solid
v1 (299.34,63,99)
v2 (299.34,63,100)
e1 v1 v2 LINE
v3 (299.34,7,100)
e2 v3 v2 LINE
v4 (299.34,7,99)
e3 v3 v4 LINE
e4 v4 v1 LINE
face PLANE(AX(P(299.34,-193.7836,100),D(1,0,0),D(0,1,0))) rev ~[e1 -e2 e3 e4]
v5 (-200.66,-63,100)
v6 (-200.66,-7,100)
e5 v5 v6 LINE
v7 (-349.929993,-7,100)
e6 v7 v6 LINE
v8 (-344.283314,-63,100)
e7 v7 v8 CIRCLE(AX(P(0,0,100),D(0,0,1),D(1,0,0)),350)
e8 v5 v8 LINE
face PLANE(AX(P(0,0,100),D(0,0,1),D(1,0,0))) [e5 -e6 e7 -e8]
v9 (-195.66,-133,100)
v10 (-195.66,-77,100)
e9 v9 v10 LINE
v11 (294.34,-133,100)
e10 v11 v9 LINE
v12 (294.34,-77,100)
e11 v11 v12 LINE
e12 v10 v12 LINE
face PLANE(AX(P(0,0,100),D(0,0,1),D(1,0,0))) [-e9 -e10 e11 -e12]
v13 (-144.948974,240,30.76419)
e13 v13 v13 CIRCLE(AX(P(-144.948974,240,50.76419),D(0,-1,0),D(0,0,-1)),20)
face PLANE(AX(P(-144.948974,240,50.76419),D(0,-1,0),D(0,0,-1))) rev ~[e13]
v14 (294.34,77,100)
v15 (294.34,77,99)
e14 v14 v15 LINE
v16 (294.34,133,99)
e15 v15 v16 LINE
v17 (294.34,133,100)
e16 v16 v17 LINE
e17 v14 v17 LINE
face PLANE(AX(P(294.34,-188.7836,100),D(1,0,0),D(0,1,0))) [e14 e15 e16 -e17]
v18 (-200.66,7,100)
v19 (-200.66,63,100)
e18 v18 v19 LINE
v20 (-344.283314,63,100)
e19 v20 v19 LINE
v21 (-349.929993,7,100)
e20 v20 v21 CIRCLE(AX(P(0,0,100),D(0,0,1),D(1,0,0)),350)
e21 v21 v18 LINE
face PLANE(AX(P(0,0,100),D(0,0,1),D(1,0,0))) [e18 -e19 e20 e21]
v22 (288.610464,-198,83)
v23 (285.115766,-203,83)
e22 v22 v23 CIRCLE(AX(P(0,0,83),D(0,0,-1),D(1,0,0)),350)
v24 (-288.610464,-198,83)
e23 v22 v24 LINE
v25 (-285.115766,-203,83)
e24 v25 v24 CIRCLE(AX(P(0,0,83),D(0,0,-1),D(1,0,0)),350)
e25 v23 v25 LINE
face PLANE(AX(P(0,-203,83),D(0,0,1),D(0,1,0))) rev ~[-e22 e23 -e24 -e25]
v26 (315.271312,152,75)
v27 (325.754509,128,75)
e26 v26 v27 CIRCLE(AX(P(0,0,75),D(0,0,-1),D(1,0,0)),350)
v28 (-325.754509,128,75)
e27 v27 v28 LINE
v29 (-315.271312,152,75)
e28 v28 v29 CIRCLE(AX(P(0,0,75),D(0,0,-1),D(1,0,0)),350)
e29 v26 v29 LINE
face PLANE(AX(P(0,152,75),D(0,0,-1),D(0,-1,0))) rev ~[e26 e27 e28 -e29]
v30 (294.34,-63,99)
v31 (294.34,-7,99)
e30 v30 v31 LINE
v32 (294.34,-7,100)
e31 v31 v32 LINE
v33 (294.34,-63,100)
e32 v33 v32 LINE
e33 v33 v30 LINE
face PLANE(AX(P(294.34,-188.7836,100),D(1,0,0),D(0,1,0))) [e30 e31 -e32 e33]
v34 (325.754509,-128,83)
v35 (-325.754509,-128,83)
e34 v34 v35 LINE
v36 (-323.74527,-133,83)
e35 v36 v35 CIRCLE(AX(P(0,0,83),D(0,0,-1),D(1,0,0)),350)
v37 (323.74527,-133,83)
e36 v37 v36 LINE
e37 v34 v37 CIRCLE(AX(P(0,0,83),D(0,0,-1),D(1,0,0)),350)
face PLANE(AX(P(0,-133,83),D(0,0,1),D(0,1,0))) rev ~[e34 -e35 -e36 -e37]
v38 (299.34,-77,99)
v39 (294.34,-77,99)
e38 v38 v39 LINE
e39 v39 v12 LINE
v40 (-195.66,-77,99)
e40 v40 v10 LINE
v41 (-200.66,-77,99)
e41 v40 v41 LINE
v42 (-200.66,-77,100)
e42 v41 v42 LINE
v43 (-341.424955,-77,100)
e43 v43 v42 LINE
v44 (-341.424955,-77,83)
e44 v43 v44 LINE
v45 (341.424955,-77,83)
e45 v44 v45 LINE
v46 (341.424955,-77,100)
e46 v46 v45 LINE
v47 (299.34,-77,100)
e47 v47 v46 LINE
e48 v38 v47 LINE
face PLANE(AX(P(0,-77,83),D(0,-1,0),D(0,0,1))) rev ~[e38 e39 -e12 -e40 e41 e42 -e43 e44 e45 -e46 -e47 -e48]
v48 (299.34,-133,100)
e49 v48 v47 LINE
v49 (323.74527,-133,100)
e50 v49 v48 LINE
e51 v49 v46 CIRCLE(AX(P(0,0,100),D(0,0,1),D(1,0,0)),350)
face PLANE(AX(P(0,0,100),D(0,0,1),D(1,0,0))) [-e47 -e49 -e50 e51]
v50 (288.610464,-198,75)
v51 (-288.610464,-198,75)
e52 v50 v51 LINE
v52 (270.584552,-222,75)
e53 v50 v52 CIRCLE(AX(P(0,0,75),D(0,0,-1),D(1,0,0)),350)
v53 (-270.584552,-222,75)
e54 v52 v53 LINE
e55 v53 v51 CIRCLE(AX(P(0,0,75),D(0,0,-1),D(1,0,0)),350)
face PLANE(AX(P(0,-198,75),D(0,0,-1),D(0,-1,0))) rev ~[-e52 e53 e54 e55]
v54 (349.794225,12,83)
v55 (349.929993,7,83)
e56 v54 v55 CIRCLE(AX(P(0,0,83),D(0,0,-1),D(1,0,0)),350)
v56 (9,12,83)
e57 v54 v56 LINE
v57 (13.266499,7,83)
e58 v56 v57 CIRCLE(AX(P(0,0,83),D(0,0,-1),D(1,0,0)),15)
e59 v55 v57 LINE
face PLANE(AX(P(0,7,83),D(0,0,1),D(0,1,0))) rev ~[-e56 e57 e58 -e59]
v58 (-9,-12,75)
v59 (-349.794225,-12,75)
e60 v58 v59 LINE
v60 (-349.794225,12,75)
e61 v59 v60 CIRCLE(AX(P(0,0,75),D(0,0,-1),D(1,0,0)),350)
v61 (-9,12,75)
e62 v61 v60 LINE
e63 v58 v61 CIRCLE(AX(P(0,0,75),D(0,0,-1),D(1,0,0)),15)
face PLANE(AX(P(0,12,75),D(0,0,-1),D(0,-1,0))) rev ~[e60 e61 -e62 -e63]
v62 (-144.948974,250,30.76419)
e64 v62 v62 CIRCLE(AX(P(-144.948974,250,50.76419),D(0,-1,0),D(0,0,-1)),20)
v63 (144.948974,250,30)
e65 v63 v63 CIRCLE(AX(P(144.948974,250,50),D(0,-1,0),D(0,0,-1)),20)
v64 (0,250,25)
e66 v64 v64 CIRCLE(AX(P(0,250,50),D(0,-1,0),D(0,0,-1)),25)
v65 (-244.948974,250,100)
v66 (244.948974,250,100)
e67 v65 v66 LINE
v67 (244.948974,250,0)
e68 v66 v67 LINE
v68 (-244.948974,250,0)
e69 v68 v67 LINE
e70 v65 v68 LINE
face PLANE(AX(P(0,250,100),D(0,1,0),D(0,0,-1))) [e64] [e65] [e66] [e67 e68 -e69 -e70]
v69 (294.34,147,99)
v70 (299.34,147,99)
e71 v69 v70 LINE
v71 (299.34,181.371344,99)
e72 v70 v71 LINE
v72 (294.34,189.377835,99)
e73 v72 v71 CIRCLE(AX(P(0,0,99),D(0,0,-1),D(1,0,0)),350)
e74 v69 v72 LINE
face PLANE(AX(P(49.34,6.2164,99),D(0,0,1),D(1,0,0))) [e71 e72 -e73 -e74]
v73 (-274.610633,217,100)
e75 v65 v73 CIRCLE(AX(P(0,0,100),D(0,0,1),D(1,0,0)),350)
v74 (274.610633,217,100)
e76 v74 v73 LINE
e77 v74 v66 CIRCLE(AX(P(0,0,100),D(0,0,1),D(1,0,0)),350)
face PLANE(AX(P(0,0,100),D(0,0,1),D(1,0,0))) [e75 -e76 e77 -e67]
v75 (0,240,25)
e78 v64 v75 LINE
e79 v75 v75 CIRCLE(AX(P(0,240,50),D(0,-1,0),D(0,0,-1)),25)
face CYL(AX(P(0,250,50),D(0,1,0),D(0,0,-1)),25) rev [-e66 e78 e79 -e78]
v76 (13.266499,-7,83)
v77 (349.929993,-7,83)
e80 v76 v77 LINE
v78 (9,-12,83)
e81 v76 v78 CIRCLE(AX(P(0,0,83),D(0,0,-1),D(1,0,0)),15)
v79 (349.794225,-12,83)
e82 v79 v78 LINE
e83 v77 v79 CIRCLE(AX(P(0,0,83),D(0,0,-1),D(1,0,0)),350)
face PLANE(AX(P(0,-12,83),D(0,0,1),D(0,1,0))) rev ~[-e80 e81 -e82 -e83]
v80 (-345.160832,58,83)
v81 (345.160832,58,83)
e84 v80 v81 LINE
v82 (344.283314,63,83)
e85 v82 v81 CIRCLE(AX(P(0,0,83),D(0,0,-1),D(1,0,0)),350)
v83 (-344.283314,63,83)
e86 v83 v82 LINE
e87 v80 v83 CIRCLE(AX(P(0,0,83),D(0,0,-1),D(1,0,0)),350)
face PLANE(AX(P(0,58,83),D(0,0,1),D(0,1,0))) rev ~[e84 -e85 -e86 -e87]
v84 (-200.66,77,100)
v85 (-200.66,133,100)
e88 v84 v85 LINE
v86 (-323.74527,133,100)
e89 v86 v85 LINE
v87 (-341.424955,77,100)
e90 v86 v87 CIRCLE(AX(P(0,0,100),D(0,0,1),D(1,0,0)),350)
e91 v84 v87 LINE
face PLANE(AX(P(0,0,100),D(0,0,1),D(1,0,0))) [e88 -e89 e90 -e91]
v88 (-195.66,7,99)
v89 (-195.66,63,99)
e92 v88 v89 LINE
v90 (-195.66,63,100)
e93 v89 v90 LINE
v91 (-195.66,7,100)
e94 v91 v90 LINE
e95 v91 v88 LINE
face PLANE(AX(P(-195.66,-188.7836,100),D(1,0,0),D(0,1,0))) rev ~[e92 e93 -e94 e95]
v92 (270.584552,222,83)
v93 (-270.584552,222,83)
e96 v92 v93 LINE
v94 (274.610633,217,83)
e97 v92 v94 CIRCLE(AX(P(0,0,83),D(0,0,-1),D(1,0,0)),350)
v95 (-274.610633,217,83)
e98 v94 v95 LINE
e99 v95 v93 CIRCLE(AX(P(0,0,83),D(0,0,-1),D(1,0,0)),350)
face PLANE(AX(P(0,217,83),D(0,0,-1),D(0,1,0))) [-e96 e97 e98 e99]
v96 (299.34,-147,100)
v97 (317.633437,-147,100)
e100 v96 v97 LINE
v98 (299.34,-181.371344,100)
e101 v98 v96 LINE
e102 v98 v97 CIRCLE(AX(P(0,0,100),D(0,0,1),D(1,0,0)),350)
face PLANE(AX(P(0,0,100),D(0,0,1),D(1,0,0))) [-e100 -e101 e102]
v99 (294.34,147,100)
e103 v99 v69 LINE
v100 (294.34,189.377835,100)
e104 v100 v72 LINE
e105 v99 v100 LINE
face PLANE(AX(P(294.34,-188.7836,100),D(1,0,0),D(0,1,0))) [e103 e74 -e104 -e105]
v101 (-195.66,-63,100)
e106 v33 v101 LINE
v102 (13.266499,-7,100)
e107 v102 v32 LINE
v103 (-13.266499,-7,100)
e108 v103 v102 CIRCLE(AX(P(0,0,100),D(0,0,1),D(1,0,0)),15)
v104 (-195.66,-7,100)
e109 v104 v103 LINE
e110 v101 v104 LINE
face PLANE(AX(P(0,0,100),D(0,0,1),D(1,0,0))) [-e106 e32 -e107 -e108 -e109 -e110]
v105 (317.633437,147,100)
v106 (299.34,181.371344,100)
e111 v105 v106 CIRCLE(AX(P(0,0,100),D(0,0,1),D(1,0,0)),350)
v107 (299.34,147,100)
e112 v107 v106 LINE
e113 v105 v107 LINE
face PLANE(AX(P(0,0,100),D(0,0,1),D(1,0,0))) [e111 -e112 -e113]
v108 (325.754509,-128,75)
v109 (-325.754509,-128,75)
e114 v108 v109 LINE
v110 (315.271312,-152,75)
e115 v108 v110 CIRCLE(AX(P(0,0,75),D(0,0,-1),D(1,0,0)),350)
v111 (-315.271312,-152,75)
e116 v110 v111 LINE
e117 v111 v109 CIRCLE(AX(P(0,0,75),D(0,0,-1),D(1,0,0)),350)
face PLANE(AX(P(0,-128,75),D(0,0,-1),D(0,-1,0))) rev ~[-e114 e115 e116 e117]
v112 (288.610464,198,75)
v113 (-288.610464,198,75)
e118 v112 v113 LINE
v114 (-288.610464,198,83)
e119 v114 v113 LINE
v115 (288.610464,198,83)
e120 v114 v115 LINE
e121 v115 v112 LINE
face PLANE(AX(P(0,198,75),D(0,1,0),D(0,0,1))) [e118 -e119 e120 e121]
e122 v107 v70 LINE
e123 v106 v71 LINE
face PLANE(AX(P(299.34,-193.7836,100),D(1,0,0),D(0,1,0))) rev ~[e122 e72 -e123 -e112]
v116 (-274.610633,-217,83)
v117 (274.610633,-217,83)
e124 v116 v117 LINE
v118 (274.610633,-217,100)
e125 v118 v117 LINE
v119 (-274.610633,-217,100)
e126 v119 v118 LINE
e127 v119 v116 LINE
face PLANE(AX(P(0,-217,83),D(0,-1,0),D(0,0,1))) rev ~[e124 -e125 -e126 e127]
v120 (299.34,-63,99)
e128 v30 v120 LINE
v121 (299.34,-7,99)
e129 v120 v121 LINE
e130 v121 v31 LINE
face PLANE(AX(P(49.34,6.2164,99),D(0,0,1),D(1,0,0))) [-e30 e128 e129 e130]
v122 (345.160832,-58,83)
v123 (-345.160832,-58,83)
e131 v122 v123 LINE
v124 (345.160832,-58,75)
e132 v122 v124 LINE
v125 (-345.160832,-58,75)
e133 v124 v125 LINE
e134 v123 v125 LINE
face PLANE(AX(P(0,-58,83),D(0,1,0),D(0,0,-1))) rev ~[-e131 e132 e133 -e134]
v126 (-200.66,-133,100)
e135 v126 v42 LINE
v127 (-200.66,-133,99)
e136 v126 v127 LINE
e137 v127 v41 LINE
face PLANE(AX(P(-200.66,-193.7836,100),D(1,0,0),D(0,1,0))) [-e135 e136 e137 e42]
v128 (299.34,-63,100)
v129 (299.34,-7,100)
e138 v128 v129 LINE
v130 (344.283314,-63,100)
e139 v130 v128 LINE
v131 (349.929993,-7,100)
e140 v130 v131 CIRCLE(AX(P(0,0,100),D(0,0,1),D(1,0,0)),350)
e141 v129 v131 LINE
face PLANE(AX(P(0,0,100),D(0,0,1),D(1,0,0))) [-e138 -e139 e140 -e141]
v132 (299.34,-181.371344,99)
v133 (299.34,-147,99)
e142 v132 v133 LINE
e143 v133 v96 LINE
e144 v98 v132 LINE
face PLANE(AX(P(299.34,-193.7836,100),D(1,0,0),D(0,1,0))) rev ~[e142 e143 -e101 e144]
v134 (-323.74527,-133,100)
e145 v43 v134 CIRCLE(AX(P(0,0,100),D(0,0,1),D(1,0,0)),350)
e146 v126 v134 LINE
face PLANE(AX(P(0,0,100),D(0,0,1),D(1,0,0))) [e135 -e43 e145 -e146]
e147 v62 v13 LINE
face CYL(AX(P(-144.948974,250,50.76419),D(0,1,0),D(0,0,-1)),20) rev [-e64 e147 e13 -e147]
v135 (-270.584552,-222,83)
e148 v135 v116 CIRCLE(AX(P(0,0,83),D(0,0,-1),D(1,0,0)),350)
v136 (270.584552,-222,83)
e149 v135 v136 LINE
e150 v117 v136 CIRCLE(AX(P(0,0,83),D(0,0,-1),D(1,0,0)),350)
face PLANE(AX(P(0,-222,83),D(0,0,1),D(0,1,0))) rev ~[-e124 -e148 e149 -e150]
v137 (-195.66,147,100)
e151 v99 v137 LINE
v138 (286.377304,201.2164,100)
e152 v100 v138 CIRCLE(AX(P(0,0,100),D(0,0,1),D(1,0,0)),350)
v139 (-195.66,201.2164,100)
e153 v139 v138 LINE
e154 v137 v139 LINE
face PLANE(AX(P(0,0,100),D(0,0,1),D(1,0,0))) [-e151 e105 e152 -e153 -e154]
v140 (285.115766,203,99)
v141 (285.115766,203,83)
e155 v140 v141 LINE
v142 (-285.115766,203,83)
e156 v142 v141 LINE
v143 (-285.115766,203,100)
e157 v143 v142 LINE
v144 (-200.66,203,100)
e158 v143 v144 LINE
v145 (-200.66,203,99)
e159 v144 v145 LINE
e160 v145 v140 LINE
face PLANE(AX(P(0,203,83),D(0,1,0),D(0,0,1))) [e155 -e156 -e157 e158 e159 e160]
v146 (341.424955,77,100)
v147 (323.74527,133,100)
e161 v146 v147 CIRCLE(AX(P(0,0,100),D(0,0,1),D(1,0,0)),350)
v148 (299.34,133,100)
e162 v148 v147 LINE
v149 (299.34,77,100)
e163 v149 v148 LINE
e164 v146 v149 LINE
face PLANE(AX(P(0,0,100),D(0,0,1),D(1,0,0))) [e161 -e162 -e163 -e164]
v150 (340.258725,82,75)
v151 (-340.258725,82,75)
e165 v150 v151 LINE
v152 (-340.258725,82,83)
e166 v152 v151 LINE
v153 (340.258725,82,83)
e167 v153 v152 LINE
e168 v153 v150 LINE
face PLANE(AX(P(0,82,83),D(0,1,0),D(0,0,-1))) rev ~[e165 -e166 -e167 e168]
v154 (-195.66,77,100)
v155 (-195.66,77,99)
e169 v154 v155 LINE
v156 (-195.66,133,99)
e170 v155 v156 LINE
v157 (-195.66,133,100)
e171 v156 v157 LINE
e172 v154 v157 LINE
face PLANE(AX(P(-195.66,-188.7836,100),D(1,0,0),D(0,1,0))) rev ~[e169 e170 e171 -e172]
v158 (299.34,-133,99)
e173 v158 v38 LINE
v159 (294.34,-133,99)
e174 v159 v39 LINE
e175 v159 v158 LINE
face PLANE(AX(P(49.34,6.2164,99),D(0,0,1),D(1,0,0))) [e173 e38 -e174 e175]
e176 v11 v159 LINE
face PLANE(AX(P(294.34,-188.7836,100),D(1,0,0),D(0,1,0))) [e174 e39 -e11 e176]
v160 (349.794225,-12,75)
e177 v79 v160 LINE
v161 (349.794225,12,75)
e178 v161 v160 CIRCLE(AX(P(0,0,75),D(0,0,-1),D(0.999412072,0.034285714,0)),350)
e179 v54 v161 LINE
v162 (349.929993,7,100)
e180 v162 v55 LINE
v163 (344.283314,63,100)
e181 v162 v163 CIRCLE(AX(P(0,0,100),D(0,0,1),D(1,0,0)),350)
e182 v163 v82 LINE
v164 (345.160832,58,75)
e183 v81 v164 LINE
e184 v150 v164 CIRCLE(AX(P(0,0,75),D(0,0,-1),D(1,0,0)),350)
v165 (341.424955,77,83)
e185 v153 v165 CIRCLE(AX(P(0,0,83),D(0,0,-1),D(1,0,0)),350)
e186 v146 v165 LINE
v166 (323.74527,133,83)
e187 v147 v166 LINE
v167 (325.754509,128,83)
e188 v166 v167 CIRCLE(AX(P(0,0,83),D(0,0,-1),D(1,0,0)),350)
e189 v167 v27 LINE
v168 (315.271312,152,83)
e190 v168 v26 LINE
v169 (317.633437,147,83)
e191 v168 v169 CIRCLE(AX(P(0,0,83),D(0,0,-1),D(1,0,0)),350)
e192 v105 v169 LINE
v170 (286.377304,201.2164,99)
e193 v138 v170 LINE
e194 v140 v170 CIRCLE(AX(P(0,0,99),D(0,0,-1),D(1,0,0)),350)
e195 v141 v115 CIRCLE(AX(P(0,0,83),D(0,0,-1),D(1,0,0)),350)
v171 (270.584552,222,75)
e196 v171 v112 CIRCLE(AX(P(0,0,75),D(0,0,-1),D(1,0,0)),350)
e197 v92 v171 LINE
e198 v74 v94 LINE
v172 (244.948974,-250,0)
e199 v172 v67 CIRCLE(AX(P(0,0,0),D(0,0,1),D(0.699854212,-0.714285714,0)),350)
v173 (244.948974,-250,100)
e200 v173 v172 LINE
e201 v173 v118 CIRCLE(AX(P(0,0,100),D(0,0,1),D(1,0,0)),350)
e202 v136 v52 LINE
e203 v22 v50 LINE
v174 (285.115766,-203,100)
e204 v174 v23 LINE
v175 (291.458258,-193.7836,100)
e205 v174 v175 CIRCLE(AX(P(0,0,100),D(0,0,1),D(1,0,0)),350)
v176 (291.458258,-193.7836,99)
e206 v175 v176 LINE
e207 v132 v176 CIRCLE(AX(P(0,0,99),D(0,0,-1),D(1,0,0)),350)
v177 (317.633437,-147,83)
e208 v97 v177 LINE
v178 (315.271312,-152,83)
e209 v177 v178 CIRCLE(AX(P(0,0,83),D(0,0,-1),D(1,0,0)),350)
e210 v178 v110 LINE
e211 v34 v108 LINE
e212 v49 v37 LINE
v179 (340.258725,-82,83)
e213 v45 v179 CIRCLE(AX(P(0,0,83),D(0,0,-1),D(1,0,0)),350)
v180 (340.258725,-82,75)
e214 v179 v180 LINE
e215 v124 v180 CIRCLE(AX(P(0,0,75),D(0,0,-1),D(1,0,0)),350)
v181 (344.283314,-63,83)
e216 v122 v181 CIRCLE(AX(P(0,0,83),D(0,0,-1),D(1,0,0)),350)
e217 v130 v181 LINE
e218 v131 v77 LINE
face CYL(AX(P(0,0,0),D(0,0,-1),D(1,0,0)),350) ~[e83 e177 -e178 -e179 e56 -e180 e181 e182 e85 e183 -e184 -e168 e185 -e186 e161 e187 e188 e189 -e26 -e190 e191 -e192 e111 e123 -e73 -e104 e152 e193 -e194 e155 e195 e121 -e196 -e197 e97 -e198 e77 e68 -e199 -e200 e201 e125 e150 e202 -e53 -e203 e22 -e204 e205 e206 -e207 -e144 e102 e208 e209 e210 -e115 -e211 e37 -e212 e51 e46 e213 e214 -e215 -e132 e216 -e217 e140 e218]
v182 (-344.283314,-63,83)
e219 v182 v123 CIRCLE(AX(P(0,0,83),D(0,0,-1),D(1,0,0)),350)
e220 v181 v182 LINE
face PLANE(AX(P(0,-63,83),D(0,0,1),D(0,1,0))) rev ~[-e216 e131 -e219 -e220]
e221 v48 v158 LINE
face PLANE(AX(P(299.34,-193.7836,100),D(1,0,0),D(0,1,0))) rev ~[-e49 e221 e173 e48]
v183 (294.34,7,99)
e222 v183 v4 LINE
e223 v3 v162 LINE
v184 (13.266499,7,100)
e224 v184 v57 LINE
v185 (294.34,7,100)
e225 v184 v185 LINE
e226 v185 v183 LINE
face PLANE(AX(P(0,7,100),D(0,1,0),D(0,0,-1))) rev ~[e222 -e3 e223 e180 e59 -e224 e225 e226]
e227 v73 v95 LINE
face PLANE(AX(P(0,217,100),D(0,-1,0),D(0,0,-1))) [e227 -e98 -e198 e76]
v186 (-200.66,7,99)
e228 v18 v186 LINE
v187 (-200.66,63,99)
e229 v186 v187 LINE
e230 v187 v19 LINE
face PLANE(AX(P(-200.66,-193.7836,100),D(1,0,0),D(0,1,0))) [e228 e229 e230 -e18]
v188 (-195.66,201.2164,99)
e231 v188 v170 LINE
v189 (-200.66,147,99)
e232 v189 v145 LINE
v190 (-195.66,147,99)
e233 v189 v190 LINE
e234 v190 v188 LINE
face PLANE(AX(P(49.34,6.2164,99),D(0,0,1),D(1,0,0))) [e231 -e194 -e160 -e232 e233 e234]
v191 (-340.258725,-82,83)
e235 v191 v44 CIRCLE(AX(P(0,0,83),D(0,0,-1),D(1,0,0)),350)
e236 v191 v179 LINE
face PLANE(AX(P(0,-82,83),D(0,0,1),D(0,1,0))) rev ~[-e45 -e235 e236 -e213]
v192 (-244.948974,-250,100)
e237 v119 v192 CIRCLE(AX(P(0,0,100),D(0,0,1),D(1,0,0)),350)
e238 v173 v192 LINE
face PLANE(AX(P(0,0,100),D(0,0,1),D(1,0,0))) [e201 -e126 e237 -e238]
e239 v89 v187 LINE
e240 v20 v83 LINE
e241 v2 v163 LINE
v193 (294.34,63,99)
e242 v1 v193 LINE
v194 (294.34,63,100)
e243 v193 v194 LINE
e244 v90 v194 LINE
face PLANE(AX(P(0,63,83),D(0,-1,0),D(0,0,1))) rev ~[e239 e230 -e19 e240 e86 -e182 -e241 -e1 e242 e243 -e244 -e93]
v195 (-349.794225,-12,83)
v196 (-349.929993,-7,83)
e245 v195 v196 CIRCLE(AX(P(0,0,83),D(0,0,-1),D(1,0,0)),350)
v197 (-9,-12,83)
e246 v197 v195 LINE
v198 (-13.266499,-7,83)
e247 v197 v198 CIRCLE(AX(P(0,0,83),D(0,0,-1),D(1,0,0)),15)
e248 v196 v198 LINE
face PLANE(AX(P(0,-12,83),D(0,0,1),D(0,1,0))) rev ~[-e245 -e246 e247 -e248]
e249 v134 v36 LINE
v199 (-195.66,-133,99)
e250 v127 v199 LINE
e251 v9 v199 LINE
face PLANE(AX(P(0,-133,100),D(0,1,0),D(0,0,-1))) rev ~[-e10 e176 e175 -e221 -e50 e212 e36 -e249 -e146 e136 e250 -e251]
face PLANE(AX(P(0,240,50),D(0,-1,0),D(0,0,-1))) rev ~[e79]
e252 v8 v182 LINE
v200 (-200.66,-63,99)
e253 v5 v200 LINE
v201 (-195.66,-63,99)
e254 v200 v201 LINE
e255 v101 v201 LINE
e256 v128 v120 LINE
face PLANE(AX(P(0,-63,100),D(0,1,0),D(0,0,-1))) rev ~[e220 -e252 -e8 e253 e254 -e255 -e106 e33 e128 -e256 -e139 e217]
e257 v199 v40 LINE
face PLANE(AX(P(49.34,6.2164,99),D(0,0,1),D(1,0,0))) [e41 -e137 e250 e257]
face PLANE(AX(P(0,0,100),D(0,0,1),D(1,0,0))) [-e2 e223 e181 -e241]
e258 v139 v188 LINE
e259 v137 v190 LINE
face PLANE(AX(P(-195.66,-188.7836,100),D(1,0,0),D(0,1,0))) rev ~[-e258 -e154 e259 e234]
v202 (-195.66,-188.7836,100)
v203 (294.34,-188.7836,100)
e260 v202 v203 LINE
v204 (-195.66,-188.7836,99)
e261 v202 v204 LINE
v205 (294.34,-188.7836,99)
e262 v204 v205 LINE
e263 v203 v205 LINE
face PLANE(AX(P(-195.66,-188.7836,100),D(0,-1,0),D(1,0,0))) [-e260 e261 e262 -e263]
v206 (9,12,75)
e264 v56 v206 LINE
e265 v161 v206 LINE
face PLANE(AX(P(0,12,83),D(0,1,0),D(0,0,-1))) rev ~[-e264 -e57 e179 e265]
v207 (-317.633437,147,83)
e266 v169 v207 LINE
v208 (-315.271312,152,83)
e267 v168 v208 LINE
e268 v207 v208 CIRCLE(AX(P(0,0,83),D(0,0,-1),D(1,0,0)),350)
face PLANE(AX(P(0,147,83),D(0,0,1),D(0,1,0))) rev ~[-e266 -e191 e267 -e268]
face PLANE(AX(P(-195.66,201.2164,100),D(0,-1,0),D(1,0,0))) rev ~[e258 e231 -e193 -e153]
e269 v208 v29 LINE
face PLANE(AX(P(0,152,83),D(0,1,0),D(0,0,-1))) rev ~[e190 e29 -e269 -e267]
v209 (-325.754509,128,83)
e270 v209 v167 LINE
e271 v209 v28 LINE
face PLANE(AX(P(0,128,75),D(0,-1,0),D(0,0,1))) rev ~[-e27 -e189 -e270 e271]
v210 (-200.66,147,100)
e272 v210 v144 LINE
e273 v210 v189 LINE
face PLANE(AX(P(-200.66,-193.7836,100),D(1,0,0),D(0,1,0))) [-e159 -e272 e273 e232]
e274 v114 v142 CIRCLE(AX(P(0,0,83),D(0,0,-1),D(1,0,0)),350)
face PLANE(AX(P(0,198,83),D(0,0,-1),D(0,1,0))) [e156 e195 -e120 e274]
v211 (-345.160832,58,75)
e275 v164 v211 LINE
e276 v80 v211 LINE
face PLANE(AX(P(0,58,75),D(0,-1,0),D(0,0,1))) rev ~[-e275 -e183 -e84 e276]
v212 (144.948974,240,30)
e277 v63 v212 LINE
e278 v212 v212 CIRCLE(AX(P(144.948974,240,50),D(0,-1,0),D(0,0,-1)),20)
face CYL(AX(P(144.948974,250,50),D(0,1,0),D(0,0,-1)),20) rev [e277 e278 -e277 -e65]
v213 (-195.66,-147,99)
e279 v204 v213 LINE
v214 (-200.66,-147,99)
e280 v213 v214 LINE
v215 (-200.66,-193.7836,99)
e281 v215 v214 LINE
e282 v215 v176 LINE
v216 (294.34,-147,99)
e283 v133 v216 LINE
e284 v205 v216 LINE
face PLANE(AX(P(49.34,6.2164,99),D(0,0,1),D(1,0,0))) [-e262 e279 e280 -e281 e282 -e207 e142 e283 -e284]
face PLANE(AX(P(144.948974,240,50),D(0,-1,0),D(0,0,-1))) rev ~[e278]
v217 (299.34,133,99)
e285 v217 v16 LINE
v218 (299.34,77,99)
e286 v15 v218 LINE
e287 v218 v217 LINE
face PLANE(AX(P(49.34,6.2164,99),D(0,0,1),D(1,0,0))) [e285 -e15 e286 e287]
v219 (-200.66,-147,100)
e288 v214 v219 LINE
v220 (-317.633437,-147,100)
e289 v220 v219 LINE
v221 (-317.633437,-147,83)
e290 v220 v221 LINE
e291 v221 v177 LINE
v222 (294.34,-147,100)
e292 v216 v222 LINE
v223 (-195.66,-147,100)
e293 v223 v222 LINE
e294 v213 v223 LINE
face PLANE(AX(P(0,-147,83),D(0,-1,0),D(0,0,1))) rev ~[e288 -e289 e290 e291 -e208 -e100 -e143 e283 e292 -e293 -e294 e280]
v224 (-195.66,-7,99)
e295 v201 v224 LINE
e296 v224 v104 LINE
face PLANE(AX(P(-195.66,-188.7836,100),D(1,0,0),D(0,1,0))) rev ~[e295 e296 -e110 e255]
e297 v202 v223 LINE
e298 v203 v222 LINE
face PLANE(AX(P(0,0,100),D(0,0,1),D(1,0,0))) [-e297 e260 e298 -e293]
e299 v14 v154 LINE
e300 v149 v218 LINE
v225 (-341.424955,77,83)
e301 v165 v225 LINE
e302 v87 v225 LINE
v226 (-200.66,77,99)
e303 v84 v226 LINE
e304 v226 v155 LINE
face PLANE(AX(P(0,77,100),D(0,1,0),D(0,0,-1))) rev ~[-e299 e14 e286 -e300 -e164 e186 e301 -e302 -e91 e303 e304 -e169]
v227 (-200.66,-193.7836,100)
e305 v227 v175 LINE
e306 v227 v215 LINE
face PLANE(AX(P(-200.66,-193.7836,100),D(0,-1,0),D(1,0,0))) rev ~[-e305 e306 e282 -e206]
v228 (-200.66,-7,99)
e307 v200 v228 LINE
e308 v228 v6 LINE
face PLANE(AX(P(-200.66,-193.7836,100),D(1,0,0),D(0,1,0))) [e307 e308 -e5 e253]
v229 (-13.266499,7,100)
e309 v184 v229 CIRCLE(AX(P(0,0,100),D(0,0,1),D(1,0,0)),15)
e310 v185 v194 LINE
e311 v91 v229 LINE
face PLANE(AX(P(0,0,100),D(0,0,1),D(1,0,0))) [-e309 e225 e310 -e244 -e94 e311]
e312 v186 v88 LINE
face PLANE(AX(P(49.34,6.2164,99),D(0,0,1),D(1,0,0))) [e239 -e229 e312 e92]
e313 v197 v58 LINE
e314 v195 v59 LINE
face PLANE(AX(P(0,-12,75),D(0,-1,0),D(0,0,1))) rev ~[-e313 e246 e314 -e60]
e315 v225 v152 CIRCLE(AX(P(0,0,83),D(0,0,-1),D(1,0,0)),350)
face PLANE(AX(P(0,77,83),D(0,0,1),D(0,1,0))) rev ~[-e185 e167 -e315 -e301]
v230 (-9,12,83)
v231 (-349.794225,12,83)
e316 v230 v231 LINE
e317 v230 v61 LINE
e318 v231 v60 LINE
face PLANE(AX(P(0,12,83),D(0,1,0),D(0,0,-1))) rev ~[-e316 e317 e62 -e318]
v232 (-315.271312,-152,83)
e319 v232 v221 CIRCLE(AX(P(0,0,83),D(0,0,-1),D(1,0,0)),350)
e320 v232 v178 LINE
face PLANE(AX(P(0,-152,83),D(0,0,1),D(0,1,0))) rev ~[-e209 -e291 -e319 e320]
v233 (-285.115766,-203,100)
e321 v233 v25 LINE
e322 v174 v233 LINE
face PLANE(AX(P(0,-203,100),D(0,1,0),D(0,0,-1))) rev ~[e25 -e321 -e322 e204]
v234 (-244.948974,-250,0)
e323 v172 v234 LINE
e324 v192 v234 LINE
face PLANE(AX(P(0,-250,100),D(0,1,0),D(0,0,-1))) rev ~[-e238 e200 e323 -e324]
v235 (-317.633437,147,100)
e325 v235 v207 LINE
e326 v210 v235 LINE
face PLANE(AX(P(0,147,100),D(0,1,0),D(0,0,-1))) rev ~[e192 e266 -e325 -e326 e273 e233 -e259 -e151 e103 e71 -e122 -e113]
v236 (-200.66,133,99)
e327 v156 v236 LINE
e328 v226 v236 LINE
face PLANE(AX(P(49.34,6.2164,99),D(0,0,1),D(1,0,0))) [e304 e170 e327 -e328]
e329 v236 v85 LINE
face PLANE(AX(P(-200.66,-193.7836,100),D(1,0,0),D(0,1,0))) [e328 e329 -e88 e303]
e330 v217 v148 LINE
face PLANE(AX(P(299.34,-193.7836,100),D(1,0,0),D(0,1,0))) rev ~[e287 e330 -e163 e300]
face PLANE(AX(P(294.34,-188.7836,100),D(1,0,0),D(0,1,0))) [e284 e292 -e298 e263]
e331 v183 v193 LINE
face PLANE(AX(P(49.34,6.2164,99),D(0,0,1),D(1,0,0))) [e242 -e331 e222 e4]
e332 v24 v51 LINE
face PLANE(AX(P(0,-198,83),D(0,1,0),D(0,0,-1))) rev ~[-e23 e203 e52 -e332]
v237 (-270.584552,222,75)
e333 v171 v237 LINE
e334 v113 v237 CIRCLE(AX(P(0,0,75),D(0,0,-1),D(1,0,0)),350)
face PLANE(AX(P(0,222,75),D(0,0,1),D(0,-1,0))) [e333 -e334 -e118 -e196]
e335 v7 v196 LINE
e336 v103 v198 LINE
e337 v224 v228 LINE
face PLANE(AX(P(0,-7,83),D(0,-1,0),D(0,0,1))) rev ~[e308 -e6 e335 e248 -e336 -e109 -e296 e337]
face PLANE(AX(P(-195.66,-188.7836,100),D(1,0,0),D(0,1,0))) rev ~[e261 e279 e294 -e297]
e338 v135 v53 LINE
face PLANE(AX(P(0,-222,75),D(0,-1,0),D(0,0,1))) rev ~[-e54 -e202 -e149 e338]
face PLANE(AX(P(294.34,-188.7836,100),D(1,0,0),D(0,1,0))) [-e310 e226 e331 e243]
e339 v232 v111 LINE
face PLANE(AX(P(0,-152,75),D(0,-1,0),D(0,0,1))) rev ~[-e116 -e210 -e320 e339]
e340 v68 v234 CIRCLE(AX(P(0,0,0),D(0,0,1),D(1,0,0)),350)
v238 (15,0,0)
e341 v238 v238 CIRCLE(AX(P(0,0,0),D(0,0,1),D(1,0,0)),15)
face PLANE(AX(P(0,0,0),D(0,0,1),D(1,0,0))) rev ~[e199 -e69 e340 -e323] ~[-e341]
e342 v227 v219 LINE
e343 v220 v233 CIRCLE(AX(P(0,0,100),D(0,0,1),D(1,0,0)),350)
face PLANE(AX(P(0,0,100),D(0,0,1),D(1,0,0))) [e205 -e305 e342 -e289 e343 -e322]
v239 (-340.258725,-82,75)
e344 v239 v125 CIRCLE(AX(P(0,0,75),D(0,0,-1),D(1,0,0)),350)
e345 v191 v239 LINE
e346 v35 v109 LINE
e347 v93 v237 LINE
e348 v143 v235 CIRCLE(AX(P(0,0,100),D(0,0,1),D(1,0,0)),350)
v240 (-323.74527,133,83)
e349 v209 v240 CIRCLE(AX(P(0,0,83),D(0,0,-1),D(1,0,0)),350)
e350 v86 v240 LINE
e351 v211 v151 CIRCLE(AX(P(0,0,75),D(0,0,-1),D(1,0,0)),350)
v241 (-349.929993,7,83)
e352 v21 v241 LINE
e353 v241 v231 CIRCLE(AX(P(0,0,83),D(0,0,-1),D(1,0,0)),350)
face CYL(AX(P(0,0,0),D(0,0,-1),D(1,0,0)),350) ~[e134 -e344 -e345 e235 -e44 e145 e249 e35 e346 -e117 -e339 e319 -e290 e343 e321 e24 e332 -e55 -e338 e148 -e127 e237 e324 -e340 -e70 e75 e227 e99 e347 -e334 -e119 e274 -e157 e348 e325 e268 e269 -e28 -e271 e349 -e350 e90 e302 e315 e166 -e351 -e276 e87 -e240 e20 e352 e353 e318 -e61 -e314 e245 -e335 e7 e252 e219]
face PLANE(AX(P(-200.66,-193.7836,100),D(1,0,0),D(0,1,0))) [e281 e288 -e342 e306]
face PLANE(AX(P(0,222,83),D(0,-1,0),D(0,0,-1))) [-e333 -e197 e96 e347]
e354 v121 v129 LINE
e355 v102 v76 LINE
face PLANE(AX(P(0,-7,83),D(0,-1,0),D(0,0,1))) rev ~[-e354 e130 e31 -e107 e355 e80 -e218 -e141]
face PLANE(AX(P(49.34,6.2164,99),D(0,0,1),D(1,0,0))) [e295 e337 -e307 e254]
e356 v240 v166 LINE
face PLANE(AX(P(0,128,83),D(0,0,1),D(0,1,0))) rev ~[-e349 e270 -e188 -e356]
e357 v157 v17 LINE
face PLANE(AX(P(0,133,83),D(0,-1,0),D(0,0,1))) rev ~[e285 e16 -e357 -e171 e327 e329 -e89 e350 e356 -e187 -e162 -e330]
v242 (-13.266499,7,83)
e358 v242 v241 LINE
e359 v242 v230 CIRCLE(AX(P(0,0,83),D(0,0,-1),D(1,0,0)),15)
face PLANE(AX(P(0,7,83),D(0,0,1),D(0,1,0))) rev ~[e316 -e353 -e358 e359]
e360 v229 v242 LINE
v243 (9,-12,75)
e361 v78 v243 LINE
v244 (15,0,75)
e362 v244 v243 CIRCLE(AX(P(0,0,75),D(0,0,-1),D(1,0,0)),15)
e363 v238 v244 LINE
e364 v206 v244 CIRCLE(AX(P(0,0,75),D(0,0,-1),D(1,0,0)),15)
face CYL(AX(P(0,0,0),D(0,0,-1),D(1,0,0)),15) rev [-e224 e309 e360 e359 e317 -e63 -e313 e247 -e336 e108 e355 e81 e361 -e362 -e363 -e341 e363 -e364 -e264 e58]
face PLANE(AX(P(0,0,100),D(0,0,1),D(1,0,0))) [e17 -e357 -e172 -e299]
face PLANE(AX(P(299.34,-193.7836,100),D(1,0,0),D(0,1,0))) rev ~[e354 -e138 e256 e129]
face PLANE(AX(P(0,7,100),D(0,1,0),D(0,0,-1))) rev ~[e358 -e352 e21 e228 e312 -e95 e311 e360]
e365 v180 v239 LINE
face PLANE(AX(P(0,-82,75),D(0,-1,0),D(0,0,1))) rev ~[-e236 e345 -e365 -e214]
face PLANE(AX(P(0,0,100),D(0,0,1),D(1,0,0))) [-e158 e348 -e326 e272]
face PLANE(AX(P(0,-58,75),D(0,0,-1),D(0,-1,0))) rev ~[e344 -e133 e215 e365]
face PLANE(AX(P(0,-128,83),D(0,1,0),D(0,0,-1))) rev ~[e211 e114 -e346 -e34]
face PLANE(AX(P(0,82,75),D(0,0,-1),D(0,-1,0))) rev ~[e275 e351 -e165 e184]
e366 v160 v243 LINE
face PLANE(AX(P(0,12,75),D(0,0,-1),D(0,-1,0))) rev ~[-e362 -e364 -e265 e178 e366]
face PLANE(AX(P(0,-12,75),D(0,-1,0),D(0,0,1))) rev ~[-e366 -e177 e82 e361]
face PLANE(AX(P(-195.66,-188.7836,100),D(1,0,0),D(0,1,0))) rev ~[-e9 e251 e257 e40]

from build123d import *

# Parameters (mm, degrees)
SKETCH1_R           = 350
SKETCH1_R_2         = 15
BOSS_EXTRUDE1_DEPTH = 100
SKETCH2_W           = 100
SKETCH2_H           = 100
CUT_EXTRUDE1_DEPTH  = 500
SKETCH3_W           = 500
SKETCH3_H           = 400
SKETCH3_W_2         = 490
SKETCH3_H_2         = 390
CUT_EXTRUDE2_DEPTH  = 1
SKETCH4_R           = 25
SKETCH4_R_2         = 20
CUT_EXTRUDE3_DEPTH  = 10


with BuildPart() as part:
    # Sketch1 → Boss-Extrude1 (new body)
    with BuildSketch(Plane.XY):
        Circle(SKETCH1_R)
        Circle(SKETCH1_R_2, mode=Mode.SUBTRACT)
    extrude(amount=BOSS_EXTRUDE1_DEPTH)

    # Sketch2 → Cut-Extrude1 (cut, symmetric)
    with BuildSketch(Plane(origin=(0, 0, 0), x_dir=(0, 0, -1), z_dir=(1, 0, 0))):
        Polygon((-100, 7), (-83, 7), (-83, 12), (-75, 12), (-75, -12), (-83, -12), (-83, -7), (-100, -7), align=None)
        Polygon((-100, -77), (-100, -63), (-83, -63), (-83, -58), (-75, -58), (-75, -82), (-83, -82), (-83, -77), align=None)
        Polygon((-100, -147), (-100, -133), (-83, -133), (-83, -128), (-75, -128), (-75, -152), (-83, -152), (-83, -147), align=None)
        Polygon((-100, -217), (-100, -203), (-83, -203), (-83, -198), (-75, -198), (-75, -222), (-83, -222), (-83, -217), align=None)
        with Locations((-50, -300)):
            Rectangle(SKETCH2_W, SKETCH2_H)
        Polygon((-100, 63), (-100, 77), (-83, 77), (-83, 82), (-75, 82), (-75, 58), (-83, 58), (-83, 63), align=None)
        with Locations((-50, 300)):
            Rectangle(SKETCH2_W, SKETCH2_H)
        Polygon((-100, 133), (-100, 147), (-83, 147), (-83, 152), (-75, 152), (-75, 128), (-83, 128), (-83, 133), align=None)
        Polygon((-100, 203), (-100, 217), (-83, 217), (-83, 222), (-75, 222), (-75, 198), (-83, 198), (-83, 203), align=None)
    extrude(amount=CUT_EXTRUDE1_DEPTH, both=True, mode=Mode.SUBTRACT)

    # Sketch3 → Cut-Extrude2 (cut)
    with BuildSketch(Plane.XY.offset(100)):
        with Locations((49.34, 6.2164)):
            Rectangle(SKETCH3_W, SKETCH3_H)
        with Locations((49.34, 6.2164)):
            Rectangle(SKETCH3_W_2, SKETCH3_H_2, mode=Mode.SUBTRACT)
    extrude(amount=-CUT_EXTRUDE2_DEPTH, mode=Mode.SUBTRACT)

    # Sketch4 → Cut-Extrude3 (cut)
    with BuildSketch(Plane.XZ.offset(-250)):
        with Locations(Location((0, 50, 0), (0, 0, 270))):
            Circle(SKETCH4_R)
        with Locations(Location((144.948974278, 50, 0), (0, 0, 270))):
            Circle(SKETCH4_R_2)
        with Locations(Location((-144.948974278, 50.764190285, 0), (0, 0, 270))):
            Circle(SKETCH4_R_2)
    extrude(amount=CUT_EXTRUDE3_DEPTH, mode=Mode.SUBTRACT)


solid = part.part
